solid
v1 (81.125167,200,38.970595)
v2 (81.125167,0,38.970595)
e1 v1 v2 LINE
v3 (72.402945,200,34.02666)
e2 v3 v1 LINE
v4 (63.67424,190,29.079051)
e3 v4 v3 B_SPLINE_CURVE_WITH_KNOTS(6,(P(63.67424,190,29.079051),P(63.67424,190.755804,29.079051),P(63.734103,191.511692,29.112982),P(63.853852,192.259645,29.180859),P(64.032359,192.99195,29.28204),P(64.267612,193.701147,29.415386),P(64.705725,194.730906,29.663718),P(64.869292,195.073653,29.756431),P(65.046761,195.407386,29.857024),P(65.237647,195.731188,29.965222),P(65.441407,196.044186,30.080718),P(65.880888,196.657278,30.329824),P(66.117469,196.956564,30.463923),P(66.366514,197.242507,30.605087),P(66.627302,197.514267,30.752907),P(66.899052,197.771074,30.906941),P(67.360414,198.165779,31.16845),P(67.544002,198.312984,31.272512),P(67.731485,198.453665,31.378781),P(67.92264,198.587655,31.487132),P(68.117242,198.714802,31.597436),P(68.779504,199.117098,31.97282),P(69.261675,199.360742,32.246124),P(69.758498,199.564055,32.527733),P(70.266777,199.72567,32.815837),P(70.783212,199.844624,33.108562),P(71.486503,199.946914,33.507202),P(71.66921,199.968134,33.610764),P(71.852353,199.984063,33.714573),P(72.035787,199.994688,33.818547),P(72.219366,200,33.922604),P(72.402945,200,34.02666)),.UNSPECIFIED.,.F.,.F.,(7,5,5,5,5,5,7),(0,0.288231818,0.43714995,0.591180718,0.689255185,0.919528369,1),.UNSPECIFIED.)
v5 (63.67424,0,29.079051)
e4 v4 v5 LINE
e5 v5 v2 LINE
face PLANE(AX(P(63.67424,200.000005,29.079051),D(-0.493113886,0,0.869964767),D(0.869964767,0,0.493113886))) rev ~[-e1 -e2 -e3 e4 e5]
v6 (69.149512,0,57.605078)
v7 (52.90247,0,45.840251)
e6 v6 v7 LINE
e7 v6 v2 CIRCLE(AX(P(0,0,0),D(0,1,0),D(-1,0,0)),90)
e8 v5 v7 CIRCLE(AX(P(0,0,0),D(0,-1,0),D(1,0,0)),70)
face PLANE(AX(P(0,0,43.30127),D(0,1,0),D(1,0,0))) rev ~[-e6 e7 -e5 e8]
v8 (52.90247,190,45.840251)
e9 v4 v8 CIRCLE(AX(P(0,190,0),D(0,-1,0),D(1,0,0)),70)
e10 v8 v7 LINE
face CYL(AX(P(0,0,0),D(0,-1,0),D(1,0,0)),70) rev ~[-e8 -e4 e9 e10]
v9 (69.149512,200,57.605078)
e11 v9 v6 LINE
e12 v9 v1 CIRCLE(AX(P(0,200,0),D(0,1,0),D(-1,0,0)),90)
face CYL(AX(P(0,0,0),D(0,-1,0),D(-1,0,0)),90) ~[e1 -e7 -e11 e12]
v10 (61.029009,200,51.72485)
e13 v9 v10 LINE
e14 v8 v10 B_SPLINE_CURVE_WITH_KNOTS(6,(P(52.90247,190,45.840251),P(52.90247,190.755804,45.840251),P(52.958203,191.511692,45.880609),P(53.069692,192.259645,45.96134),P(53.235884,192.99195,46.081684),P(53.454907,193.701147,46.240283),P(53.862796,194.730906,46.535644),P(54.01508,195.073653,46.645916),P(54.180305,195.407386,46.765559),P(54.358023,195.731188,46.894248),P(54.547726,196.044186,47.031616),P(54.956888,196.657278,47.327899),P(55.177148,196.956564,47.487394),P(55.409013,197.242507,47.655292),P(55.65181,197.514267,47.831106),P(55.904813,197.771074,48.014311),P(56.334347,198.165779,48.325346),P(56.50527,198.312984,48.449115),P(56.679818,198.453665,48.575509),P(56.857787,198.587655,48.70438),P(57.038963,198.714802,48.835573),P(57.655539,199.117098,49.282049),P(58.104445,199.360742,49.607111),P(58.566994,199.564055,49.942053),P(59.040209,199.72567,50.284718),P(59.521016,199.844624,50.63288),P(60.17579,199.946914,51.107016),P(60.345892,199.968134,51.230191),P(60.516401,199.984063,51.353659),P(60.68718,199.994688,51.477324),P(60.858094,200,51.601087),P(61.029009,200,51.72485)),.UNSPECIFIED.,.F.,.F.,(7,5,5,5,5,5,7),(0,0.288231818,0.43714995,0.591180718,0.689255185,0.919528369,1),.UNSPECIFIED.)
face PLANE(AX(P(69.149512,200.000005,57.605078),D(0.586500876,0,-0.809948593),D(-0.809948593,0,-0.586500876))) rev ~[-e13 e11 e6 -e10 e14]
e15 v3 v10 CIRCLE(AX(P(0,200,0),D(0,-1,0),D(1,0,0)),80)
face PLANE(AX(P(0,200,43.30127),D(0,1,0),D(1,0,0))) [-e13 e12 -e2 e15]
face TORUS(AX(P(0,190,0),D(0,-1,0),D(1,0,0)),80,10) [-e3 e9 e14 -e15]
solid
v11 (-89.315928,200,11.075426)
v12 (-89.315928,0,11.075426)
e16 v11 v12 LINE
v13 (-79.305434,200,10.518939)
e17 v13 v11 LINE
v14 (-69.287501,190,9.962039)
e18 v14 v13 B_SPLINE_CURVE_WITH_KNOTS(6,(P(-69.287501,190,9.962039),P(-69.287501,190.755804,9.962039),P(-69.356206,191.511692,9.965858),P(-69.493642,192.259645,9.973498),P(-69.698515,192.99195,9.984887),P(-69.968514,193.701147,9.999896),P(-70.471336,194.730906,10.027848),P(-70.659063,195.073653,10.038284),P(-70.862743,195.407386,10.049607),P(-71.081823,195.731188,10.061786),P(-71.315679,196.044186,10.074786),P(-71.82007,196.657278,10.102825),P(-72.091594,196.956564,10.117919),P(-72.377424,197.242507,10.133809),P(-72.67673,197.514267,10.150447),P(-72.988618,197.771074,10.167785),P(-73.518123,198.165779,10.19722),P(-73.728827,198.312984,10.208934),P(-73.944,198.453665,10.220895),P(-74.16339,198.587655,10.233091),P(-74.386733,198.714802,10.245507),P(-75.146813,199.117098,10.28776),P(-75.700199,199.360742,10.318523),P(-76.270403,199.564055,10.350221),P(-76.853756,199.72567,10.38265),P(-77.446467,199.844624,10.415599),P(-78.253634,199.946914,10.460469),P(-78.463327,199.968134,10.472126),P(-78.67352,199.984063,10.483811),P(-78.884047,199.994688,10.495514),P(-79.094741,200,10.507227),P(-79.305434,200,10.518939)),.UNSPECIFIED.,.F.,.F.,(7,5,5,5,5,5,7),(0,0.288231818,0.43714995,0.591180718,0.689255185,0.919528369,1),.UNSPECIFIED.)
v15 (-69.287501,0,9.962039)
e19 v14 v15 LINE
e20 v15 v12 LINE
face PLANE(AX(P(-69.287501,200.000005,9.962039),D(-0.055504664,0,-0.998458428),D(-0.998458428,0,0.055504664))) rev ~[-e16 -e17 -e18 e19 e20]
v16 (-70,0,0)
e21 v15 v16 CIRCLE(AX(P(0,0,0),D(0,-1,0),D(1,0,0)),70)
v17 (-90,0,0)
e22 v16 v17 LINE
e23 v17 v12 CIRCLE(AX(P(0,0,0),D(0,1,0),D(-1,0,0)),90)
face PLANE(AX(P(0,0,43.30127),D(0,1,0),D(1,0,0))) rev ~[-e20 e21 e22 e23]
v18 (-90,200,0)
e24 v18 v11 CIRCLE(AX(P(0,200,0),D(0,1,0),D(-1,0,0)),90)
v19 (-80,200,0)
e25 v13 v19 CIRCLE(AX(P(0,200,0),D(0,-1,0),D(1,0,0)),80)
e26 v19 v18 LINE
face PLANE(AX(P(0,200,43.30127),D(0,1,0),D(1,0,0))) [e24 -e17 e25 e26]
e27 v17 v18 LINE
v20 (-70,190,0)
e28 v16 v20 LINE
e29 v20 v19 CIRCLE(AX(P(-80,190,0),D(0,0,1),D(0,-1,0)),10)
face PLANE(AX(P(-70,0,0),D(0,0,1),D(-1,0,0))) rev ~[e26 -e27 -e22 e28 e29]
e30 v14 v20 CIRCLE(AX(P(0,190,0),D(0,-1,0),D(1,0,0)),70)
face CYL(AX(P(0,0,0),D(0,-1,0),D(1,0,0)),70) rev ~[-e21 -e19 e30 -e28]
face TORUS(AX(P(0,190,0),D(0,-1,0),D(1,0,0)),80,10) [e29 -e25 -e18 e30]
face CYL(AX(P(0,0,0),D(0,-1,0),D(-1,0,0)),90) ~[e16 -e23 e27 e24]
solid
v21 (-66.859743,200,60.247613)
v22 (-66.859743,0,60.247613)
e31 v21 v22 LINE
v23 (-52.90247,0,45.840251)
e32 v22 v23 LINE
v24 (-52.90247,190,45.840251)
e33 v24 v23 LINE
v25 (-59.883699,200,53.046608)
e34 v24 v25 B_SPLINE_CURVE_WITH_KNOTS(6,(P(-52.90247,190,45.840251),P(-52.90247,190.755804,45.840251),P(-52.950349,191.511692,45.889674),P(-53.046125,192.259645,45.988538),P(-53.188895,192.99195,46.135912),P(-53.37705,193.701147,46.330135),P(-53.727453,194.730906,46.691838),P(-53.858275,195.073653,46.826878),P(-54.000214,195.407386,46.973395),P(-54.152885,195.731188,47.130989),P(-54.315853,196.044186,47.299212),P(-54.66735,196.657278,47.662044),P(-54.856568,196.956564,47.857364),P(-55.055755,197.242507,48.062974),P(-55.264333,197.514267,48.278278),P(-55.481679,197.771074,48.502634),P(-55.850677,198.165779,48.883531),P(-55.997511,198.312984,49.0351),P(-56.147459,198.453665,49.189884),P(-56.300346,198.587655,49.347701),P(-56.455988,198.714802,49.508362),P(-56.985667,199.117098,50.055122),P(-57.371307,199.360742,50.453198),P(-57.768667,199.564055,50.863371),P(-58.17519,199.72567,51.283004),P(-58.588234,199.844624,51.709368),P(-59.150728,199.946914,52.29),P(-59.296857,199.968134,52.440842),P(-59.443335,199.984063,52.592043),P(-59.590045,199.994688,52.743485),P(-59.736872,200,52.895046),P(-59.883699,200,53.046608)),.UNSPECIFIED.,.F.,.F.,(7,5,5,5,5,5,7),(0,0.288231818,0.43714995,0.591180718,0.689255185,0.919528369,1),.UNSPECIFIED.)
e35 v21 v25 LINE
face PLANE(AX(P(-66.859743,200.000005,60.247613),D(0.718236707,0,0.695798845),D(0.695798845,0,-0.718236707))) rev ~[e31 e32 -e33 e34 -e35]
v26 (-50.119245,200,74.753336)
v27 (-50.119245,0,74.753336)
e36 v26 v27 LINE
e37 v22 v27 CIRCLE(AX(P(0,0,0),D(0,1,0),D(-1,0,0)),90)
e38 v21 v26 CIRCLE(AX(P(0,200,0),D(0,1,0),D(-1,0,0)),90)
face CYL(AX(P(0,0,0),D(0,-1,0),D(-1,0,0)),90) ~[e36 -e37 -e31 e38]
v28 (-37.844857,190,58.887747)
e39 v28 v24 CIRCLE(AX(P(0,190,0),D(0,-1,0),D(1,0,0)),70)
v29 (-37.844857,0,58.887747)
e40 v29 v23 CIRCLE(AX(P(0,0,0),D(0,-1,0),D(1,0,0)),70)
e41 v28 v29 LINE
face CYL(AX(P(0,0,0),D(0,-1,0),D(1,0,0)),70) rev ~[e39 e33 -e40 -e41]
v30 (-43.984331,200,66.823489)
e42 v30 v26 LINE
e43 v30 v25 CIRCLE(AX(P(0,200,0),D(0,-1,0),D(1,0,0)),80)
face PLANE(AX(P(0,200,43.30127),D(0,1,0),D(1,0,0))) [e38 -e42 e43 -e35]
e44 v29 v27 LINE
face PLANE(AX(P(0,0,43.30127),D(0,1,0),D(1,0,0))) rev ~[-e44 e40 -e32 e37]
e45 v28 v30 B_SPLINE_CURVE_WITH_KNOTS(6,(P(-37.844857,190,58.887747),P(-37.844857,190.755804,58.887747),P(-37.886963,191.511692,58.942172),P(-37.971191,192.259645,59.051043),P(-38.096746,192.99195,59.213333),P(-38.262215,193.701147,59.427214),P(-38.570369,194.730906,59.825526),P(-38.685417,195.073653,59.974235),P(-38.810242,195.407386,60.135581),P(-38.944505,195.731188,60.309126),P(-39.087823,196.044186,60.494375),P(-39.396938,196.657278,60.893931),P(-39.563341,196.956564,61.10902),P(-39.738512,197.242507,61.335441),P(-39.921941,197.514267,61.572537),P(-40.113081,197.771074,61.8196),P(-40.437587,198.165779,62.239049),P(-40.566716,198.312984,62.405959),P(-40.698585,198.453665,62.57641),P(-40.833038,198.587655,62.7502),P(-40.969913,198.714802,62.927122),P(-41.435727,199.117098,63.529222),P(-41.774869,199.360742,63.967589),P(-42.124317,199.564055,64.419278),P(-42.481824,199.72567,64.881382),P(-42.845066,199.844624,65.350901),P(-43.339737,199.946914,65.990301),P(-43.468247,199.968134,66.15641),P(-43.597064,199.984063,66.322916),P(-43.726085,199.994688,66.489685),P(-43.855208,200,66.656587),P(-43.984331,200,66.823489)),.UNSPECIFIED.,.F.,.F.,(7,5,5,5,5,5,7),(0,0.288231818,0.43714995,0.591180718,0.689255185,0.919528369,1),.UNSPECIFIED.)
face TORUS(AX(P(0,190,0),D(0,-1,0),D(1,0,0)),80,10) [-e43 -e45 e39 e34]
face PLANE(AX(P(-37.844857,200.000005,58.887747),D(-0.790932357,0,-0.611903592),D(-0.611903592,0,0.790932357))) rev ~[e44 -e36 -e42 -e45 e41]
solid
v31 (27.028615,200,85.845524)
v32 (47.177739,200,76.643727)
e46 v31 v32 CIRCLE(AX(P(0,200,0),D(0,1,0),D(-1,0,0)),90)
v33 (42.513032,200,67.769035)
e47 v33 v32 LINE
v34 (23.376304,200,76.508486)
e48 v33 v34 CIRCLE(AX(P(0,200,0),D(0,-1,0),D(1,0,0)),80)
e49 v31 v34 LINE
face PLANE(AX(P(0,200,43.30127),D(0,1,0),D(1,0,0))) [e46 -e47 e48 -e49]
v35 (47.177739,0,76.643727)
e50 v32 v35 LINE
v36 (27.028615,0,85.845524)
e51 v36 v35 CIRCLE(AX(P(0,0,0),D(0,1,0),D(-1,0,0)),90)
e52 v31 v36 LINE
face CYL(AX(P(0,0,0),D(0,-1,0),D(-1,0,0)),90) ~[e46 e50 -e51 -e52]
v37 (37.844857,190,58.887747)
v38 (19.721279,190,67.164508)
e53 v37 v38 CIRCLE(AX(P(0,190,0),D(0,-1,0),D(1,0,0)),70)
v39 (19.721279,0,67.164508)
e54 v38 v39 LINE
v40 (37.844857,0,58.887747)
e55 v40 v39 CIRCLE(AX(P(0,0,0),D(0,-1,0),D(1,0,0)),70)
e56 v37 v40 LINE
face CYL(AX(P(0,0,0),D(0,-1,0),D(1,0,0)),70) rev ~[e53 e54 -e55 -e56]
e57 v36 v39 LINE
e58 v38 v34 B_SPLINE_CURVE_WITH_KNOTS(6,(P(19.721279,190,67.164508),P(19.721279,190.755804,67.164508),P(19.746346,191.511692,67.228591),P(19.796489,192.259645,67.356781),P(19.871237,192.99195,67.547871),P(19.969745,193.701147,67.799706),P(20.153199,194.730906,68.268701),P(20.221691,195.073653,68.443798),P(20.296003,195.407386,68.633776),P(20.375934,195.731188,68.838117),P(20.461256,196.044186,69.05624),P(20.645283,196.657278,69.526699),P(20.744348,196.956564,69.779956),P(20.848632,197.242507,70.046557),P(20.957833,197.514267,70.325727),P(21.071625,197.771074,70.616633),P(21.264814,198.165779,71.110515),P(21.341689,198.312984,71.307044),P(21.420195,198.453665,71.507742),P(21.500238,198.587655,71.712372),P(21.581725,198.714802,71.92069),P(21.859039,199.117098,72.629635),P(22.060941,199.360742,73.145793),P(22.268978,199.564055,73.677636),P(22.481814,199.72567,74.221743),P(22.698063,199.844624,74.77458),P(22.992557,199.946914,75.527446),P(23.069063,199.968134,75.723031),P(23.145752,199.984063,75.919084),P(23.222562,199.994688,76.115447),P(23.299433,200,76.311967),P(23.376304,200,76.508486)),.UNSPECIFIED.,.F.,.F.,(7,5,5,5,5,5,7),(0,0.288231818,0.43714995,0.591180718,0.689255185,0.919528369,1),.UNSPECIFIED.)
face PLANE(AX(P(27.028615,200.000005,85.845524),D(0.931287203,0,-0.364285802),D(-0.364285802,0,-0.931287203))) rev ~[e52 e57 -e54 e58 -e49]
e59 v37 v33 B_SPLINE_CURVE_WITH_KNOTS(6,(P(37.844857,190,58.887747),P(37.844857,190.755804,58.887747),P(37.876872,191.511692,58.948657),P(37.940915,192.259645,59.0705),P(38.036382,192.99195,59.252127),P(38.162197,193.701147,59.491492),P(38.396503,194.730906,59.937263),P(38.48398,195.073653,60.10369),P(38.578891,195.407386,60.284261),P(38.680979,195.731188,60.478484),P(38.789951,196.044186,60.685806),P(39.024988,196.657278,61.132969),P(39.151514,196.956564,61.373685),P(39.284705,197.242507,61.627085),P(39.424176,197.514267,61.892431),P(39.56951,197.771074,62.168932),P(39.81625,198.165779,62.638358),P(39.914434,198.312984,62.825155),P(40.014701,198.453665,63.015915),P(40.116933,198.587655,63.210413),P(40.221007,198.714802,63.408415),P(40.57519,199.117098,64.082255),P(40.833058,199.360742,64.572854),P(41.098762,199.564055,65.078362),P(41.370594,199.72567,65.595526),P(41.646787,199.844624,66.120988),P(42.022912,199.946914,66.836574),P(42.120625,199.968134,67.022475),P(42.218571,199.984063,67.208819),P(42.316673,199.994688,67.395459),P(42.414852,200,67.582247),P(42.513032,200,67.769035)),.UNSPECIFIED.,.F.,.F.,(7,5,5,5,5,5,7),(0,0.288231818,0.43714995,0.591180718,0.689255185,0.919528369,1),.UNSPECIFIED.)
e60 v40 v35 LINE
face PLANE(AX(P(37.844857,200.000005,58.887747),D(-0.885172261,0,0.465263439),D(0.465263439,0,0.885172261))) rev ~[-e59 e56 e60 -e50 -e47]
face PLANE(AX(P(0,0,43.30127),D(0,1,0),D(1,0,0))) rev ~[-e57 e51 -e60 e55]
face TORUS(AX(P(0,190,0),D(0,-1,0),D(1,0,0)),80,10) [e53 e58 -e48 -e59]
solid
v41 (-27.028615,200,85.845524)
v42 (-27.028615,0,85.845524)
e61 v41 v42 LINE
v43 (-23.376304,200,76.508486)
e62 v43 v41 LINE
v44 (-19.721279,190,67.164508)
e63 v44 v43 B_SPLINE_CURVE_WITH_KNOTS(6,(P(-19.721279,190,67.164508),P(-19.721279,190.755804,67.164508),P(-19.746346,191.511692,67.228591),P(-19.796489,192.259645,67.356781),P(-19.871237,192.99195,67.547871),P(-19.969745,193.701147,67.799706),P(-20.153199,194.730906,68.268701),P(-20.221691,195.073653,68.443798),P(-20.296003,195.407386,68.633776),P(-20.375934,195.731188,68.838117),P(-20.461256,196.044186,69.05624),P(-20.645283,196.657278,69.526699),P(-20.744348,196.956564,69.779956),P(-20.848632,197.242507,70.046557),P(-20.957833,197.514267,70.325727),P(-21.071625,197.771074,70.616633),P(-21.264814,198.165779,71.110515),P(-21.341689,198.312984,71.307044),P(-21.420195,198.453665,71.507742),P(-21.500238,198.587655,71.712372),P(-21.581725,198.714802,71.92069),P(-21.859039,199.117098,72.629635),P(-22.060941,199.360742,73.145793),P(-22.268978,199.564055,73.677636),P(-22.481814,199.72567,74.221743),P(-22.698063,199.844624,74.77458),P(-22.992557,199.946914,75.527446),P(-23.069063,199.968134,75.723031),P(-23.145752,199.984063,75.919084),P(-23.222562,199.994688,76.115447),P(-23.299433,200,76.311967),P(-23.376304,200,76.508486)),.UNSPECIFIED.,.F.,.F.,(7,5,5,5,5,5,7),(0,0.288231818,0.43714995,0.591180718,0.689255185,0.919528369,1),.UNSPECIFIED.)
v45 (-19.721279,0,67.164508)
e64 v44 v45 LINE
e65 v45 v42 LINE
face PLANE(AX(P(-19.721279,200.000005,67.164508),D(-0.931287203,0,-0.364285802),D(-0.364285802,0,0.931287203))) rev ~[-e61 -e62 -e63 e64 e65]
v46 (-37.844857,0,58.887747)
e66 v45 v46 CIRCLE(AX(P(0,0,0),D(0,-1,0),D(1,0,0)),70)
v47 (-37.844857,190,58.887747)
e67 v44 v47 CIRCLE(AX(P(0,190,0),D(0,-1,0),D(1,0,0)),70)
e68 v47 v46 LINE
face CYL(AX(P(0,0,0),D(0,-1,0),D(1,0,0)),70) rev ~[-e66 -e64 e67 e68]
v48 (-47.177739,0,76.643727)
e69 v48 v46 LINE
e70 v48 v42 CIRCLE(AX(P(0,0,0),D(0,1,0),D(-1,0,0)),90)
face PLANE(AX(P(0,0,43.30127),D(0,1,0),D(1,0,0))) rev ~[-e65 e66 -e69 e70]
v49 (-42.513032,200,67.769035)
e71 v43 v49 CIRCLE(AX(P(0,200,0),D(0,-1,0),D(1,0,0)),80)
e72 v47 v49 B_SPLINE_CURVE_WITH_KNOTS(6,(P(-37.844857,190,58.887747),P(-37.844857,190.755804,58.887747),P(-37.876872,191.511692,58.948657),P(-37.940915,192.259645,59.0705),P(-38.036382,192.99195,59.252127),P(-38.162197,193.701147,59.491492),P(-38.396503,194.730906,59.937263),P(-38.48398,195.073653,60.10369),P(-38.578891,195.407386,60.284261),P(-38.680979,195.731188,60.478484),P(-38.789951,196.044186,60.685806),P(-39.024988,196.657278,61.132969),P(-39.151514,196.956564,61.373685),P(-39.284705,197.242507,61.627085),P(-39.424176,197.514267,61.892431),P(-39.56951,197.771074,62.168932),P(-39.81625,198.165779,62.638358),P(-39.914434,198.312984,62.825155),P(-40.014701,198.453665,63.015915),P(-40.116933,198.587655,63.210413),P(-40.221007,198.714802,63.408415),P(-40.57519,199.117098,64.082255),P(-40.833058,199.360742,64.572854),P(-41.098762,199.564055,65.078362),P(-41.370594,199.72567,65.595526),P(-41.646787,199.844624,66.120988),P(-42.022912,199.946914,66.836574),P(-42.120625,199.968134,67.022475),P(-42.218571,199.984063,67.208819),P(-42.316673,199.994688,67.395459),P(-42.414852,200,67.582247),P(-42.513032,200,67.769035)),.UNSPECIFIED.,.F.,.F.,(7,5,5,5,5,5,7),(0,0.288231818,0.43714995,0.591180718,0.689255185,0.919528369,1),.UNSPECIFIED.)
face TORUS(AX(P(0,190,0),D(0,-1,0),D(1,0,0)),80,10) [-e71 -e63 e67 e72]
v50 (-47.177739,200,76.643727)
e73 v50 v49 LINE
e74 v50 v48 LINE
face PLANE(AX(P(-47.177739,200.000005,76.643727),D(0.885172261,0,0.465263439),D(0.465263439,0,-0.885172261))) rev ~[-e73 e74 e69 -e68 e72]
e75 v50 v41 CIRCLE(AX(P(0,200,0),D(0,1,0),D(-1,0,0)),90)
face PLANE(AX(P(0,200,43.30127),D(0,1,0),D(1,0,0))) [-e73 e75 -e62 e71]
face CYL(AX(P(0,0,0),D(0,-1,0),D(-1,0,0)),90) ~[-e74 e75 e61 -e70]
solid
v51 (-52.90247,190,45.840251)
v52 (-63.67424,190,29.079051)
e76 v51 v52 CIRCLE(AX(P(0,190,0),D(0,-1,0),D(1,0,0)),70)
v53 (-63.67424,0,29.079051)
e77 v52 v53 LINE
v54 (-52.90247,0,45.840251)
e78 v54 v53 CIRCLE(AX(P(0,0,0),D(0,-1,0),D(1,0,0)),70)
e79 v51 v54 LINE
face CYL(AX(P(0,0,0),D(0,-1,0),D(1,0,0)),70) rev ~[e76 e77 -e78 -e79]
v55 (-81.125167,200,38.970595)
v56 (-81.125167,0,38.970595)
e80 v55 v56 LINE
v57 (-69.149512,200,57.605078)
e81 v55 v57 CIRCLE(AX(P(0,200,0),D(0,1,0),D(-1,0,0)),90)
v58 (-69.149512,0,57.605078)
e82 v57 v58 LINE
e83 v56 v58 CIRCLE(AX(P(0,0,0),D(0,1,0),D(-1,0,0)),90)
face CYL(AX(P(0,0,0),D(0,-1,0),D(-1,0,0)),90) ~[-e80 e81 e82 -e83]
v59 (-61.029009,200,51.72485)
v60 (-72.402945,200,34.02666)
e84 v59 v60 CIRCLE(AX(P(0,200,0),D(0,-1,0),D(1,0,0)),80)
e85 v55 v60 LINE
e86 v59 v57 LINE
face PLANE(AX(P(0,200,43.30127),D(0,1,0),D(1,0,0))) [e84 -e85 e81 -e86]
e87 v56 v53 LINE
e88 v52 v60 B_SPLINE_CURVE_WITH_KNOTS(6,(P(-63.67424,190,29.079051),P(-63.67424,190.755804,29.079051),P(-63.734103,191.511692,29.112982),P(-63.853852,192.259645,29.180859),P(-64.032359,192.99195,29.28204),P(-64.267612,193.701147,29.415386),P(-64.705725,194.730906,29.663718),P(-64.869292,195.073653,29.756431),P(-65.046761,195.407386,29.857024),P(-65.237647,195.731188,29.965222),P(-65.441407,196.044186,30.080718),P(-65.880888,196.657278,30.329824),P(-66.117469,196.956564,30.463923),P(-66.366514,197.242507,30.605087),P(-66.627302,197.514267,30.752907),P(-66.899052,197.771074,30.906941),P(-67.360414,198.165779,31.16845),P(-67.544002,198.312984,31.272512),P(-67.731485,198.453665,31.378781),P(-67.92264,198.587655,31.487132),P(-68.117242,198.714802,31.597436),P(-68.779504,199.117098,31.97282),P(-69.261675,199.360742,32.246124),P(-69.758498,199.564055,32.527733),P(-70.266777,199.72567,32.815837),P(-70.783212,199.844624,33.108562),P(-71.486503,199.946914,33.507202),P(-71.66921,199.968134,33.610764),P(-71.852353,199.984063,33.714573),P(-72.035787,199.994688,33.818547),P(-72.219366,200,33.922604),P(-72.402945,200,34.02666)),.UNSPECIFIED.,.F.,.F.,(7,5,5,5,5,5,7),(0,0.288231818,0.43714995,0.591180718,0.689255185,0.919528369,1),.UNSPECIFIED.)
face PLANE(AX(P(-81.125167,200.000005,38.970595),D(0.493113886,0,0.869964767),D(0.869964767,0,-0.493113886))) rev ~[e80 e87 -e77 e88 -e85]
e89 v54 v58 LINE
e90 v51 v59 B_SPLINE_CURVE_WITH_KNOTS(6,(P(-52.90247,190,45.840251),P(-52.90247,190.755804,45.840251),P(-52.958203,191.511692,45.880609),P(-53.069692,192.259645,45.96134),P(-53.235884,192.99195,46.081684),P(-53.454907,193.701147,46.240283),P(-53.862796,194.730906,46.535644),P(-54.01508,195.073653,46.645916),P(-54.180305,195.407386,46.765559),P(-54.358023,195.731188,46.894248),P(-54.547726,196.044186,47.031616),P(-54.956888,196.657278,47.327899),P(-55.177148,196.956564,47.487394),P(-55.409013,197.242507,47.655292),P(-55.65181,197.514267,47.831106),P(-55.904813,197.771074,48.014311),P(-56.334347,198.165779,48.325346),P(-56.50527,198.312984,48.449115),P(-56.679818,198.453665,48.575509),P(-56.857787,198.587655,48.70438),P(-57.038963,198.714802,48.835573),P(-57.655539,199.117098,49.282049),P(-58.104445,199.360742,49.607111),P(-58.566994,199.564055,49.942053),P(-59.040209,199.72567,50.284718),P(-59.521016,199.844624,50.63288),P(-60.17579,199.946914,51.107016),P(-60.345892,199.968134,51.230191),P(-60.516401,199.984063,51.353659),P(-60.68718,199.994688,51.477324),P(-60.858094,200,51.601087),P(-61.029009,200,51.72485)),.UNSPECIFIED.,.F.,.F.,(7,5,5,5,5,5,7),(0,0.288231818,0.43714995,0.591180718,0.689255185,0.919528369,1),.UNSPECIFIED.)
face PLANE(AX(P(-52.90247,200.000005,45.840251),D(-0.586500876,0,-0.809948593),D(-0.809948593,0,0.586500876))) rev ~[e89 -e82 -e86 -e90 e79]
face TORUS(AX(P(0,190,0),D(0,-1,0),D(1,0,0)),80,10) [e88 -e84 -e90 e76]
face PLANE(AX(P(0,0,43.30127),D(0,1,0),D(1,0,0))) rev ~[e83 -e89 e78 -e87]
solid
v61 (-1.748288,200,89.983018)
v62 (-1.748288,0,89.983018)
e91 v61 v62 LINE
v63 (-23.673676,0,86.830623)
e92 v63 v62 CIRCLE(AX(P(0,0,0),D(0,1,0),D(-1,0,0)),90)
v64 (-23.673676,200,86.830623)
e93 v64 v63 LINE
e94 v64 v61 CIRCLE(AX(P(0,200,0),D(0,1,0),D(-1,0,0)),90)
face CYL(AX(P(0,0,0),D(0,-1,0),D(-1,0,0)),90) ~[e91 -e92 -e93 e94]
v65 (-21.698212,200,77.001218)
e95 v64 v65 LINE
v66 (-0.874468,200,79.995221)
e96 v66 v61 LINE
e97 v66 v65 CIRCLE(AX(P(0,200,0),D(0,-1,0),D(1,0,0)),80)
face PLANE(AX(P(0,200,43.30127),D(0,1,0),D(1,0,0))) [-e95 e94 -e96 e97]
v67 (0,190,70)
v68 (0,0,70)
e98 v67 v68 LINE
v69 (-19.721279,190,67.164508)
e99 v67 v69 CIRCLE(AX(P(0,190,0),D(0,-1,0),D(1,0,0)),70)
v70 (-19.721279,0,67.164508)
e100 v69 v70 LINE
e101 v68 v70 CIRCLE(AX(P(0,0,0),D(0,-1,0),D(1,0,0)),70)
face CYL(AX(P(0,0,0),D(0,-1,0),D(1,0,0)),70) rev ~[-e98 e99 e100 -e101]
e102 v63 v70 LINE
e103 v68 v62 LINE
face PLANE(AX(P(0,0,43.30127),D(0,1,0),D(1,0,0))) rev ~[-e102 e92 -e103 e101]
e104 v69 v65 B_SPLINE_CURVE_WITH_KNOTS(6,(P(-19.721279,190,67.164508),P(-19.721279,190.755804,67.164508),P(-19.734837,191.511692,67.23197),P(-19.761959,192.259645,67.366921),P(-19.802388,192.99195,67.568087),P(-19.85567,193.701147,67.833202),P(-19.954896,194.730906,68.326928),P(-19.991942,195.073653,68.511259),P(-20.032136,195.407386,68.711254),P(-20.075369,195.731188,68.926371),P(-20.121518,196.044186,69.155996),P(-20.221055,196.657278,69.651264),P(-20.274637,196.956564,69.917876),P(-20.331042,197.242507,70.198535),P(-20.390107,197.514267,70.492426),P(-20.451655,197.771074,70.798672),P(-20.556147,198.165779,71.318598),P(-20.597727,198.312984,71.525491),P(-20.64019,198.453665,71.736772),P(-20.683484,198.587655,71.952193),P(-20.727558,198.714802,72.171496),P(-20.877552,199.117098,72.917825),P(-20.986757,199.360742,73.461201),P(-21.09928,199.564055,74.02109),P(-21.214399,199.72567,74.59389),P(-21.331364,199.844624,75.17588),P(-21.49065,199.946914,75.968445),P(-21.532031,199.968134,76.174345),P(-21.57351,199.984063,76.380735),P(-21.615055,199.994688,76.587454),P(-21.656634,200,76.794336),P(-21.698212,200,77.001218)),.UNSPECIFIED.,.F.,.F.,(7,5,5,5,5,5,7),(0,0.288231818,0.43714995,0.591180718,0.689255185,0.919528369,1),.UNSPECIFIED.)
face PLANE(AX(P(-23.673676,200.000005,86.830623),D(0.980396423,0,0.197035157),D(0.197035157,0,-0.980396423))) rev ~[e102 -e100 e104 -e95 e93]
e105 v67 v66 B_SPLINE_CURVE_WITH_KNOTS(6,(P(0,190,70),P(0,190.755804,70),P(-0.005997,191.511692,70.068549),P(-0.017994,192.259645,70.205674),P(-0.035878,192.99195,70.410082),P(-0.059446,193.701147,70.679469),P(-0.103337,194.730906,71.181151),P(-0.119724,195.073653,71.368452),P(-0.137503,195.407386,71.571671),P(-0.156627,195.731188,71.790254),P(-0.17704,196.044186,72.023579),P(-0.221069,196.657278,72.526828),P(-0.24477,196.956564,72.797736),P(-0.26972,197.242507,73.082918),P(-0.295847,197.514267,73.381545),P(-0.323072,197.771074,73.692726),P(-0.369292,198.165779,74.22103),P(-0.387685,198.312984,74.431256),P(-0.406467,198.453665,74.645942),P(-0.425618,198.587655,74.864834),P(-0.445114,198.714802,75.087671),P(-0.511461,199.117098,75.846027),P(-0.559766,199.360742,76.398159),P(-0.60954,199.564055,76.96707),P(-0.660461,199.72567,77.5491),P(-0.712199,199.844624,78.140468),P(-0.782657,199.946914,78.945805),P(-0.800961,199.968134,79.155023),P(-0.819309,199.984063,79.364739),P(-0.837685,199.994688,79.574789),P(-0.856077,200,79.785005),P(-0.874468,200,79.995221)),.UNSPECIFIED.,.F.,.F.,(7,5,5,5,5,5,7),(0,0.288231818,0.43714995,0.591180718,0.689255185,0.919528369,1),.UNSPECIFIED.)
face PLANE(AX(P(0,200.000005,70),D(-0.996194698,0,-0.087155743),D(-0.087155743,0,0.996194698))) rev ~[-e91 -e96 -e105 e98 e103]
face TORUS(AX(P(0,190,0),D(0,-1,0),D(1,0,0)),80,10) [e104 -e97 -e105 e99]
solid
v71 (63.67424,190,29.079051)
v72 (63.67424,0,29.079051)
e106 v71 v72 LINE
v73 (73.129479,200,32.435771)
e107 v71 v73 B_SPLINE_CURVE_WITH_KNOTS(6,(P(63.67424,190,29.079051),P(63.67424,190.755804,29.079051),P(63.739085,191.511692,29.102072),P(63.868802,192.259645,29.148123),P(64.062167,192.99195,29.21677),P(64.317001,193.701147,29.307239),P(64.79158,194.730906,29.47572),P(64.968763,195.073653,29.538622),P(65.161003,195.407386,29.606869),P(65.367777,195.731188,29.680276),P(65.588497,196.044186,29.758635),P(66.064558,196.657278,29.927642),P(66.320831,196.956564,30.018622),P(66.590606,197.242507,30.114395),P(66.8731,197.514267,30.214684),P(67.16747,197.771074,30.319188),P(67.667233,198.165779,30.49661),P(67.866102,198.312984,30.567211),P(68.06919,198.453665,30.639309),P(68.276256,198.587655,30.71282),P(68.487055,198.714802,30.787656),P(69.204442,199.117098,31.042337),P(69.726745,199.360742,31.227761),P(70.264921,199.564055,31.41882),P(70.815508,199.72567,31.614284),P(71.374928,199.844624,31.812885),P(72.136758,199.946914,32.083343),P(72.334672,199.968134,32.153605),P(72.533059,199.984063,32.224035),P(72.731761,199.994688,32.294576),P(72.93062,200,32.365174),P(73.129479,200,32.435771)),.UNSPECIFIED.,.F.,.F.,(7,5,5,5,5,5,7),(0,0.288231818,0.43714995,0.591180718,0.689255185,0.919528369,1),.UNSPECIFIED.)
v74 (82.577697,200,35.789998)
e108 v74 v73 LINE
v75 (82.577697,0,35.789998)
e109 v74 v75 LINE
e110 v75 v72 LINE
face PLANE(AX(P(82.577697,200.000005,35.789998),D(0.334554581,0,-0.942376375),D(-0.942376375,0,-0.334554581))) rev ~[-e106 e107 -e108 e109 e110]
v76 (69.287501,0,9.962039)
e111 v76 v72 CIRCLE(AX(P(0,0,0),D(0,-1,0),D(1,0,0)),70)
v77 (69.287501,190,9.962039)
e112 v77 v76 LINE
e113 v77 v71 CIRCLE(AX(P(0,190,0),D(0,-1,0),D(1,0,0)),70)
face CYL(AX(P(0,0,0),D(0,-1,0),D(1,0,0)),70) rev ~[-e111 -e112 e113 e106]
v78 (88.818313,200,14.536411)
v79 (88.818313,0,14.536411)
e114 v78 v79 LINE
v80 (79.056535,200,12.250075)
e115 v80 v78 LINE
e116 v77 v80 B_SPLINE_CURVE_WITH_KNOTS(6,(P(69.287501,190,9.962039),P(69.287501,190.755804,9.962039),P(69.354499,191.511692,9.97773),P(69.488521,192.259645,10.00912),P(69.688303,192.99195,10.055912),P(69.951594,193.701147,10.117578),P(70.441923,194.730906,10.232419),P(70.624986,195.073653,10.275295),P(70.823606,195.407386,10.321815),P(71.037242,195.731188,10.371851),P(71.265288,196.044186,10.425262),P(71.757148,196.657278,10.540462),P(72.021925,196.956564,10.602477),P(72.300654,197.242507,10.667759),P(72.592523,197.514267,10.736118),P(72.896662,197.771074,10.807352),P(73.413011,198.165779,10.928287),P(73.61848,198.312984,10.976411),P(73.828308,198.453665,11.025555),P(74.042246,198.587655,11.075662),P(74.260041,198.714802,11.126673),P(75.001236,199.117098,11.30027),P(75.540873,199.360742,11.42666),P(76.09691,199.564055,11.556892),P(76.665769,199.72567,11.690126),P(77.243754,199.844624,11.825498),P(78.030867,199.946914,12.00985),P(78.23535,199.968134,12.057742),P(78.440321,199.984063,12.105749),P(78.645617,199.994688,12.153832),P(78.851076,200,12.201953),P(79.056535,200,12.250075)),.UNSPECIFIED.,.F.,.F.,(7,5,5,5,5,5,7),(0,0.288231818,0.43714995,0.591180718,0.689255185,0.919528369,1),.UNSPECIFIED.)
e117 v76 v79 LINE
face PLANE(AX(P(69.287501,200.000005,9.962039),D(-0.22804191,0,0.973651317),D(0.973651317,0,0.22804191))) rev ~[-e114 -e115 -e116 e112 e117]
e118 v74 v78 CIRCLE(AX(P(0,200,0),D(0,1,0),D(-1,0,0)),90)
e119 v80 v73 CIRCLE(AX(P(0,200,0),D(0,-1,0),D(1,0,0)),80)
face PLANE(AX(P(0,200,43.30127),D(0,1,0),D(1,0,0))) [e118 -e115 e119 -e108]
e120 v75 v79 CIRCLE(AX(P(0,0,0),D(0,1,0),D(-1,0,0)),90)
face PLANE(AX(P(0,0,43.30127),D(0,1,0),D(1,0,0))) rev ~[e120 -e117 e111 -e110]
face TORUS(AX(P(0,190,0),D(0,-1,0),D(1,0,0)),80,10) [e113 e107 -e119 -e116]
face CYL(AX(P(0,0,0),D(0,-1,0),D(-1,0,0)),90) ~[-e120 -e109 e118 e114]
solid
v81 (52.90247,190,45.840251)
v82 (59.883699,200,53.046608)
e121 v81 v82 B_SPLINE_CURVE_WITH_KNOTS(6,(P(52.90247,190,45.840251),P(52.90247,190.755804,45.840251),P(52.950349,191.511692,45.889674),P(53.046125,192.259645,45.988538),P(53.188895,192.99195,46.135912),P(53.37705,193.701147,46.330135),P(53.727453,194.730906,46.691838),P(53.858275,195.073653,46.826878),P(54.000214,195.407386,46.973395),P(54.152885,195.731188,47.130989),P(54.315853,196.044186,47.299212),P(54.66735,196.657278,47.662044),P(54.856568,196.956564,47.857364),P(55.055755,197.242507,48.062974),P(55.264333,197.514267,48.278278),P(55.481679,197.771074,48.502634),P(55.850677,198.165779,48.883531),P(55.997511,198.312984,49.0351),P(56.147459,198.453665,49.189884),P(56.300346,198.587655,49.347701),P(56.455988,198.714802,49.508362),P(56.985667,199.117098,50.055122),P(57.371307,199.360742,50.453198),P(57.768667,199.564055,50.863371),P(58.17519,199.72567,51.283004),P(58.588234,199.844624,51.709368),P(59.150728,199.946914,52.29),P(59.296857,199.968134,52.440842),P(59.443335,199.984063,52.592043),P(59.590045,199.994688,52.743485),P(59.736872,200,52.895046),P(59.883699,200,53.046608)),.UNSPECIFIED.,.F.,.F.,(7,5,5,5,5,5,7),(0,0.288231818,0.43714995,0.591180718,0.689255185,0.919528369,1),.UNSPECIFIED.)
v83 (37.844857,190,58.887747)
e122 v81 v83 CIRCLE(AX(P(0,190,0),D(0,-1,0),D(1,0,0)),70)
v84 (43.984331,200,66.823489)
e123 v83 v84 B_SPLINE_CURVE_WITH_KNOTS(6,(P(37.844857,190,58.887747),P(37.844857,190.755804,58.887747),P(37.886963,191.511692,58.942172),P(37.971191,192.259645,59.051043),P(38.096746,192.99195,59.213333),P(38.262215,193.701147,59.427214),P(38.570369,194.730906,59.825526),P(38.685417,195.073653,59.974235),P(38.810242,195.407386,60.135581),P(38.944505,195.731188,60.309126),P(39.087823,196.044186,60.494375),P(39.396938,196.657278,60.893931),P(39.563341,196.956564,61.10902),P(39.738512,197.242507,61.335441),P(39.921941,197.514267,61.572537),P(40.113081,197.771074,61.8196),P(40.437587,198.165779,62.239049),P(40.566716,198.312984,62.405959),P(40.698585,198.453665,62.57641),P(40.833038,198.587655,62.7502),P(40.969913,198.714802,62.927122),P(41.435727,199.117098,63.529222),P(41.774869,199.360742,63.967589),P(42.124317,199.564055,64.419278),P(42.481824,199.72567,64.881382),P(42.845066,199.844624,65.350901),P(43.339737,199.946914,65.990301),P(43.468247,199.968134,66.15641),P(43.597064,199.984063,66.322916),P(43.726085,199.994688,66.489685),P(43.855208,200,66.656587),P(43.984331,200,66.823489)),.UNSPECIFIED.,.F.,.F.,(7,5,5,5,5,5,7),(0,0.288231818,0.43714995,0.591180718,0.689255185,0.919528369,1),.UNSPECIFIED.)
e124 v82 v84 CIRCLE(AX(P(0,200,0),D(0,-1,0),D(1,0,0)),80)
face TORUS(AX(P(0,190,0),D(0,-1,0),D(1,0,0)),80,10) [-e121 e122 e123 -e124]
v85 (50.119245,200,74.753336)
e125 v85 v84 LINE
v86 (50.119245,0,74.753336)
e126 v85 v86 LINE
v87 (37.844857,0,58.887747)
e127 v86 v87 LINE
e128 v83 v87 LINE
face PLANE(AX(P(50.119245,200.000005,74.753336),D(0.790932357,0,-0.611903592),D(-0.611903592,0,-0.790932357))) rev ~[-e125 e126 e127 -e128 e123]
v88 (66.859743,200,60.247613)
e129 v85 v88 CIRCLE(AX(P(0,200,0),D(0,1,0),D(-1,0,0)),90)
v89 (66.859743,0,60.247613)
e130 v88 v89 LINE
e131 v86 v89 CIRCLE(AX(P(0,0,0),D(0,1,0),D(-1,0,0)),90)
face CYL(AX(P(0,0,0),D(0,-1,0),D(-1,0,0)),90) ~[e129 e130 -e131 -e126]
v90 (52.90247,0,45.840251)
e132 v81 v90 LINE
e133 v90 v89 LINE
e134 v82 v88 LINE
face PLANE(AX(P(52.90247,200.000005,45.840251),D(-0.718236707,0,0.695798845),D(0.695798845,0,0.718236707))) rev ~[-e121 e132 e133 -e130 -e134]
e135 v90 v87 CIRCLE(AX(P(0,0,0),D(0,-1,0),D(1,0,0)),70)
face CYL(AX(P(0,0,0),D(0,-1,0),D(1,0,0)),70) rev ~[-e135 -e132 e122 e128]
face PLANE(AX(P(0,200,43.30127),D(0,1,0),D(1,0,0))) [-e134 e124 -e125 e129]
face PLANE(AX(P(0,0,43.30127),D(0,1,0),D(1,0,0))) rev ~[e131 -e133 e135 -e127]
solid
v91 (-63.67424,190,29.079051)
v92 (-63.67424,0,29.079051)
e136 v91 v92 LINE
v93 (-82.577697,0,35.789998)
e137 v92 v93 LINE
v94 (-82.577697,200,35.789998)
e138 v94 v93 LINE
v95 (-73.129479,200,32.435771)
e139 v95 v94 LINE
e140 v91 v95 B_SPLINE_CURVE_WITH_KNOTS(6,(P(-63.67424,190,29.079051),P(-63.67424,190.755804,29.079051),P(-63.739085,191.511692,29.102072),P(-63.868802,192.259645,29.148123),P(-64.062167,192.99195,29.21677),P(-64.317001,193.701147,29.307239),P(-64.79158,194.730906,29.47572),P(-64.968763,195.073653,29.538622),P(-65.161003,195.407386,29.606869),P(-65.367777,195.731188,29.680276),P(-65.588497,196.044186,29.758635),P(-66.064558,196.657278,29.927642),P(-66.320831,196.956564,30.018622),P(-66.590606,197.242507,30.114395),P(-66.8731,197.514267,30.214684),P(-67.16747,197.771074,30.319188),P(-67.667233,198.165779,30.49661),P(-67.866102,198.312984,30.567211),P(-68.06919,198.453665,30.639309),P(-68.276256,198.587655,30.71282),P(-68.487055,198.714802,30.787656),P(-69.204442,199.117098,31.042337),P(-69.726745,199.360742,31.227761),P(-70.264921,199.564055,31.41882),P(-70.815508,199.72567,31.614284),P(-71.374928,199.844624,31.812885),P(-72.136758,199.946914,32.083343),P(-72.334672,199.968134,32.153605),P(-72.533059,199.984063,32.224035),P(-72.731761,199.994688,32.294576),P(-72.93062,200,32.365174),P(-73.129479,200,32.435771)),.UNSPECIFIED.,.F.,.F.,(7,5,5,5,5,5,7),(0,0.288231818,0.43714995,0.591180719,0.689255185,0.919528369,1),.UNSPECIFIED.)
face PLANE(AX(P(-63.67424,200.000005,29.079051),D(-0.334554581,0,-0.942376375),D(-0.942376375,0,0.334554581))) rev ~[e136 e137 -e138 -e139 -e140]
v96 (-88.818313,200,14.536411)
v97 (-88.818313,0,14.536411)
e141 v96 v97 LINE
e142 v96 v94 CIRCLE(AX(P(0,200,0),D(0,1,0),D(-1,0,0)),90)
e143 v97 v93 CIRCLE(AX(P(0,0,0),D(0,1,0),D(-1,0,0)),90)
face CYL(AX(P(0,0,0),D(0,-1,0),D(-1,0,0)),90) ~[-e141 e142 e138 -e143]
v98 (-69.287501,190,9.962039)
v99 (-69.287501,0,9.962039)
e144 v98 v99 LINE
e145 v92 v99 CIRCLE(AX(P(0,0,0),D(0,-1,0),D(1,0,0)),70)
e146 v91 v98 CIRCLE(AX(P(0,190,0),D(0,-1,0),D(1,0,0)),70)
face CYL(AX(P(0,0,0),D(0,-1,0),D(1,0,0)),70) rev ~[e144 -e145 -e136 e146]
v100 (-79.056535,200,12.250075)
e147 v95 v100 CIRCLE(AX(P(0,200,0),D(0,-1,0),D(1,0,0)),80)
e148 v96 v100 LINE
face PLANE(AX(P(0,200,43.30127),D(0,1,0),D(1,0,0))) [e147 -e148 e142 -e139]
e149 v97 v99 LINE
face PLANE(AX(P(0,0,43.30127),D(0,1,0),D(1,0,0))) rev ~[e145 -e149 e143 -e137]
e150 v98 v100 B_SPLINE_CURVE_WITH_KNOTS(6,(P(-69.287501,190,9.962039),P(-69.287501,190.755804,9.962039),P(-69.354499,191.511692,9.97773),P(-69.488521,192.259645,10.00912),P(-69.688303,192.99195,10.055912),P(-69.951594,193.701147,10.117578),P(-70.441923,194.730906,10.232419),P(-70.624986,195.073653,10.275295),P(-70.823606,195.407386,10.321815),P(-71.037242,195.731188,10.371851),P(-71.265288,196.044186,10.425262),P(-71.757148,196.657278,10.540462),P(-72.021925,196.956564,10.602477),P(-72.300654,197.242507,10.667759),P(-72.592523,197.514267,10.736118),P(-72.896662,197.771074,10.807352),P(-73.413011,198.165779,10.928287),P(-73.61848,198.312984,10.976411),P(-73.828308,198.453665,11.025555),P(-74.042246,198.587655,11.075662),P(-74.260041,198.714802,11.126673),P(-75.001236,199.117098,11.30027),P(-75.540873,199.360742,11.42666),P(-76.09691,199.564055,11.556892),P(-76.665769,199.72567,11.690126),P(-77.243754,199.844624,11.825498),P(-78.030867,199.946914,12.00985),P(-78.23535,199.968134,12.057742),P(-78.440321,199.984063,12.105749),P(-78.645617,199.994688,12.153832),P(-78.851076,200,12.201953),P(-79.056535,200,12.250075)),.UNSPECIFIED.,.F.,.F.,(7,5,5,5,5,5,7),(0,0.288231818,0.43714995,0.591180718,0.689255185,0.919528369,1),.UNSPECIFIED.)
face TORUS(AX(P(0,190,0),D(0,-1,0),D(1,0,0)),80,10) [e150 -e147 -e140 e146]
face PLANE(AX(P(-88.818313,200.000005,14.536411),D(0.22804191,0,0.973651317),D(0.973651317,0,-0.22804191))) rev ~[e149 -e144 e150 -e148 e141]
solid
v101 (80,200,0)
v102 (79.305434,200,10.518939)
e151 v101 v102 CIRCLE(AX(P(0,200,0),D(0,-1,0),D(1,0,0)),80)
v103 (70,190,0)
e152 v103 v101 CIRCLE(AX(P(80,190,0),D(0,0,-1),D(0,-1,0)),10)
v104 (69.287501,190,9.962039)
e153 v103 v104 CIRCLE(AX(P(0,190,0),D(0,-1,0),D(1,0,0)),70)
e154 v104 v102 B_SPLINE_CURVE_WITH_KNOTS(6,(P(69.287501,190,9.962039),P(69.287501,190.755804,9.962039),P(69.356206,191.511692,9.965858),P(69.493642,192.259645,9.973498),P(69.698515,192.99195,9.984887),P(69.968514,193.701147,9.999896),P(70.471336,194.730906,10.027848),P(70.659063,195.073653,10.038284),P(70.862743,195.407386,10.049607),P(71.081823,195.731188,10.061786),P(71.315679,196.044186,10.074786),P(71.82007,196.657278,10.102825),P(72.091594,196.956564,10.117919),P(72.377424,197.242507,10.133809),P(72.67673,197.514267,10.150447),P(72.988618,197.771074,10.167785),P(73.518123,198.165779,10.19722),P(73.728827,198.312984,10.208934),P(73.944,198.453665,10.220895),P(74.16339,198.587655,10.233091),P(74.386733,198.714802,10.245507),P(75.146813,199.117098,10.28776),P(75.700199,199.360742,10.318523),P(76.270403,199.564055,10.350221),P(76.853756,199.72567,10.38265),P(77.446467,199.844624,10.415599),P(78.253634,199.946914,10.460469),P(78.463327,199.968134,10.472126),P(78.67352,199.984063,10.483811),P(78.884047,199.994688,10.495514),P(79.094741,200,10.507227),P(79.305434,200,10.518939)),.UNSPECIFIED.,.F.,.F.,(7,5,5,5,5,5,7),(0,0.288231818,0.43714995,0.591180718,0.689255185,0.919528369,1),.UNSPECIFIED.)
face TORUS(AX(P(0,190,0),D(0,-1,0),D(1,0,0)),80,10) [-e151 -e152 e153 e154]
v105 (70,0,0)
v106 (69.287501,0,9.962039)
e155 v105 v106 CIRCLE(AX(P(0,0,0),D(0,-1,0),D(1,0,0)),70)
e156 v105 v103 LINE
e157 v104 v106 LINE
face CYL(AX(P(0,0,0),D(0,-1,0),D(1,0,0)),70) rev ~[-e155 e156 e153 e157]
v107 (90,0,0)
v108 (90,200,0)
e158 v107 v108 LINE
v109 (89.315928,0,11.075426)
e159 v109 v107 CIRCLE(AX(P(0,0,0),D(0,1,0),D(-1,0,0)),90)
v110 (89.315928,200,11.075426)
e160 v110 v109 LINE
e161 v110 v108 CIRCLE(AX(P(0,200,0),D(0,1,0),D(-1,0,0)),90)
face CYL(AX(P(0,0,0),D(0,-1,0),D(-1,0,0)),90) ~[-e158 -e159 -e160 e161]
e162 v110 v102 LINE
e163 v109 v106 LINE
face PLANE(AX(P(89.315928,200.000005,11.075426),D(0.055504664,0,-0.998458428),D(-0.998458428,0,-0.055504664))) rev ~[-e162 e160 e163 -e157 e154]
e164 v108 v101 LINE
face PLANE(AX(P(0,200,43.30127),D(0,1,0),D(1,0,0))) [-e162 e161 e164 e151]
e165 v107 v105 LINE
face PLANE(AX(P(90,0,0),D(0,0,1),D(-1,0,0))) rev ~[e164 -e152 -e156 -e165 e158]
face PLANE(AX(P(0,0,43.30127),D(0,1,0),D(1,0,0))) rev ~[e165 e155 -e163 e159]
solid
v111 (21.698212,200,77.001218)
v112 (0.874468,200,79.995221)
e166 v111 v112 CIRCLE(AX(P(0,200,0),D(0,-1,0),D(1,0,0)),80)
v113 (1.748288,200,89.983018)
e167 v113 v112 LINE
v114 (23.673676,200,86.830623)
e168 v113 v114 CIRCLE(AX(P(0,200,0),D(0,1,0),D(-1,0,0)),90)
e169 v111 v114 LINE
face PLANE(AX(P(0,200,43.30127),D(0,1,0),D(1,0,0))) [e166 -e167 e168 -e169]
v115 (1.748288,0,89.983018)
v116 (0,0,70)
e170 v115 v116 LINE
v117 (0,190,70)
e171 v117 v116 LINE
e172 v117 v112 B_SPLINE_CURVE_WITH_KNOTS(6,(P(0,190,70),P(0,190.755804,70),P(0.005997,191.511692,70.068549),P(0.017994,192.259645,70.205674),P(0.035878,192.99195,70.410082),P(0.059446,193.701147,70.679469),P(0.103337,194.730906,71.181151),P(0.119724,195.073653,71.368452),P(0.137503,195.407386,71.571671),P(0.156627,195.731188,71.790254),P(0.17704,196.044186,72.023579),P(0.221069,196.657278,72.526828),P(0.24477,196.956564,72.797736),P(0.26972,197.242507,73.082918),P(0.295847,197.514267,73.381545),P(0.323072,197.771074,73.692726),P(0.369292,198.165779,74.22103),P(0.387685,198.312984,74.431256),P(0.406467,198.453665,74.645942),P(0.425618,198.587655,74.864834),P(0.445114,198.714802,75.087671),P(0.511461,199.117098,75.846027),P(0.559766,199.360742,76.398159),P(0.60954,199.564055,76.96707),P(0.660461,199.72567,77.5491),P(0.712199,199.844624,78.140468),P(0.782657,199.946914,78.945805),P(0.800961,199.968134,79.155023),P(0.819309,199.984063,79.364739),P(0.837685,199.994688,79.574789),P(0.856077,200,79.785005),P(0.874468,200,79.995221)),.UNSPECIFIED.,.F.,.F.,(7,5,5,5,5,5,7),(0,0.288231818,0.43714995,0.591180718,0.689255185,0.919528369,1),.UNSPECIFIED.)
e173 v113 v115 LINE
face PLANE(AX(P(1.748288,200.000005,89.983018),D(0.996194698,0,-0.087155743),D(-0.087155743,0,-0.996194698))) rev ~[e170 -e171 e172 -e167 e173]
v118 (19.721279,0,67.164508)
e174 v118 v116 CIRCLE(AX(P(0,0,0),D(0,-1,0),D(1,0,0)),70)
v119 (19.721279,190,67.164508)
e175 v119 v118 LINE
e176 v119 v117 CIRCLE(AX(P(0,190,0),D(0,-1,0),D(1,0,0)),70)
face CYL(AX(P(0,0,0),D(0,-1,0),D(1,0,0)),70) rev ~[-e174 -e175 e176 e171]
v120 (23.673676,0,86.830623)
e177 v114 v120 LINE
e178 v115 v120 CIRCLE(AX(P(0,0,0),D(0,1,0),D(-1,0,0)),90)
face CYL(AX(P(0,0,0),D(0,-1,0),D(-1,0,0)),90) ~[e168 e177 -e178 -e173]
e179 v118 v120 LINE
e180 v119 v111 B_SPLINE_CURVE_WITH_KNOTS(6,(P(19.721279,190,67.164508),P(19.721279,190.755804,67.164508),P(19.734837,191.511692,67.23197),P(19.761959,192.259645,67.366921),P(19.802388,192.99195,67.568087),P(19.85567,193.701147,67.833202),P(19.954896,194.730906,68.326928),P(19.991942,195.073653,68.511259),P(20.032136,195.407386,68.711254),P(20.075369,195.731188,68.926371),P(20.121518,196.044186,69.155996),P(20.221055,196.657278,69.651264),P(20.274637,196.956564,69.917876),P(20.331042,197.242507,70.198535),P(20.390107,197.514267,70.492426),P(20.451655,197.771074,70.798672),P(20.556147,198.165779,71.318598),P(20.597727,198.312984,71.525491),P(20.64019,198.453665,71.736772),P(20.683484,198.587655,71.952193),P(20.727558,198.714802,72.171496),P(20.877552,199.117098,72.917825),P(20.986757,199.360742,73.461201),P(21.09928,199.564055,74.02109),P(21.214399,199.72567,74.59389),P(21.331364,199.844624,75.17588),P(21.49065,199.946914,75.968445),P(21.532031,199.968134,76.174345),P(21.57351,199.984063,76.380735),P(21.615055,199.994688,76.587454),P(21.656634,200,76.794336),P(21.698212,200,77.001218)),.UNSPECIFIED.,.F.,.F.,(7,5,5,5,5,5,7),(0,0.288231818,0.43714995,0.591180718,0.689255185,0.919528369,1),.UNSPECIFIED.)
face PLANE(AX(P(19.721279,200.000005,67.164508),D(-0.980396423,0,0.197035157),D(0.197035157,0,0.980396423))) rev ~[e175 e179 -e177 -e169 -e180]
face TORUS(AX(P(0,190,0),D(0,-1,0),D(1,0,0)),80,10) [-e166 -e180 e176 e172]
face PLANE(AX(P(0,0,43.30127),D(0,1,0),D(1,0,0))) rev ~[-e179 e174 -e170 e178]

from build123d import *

# Parameters (mm, degrees)
BOSS_EXTRUDE1_DEPTH = 200
FILLET1_R           = 10
CUT_EXTRUDE1_START  = -200.000005
CUT_EXTRUDE1_DEPTH  = 200.000005


with BuildPart() as part:
    # Sketch1 → Boss-Extrude1 (new body)
    with BuildSketch(Plane(origin=(0, 0, 0), x_dir=(1, 0, 0), z_dir=(0, 1, 0))):
        with BuildLine():
            Line((90, 0), (70, 0))
            ThreePointArc((70, 0), (0, -70), (-70, 0))
            Line((-70, 0), (-90, 0))
            ThreePointArc((-90, 0), (0, -90), (90, 0))
        make_face()
    extrude(amount=BOSS_EXTRUDE1_DEPTH)

    # Fillet1
    fillet1_edges = [part.edges().sort_by_distance(p)[0] for p in [
        (0, 200, 70),
    ]]
    fillet(fillet1_edges, radius=FILLET1_R)

    # Sketch2 → Cut-Extrude1 (cut)
    with BuildSketch(Plane.XZ.offset(CUT_EXTRUDE1_START)):
        with BuildLine():
            Line((0, 70), (-1.74828752, 89.983017791))
            ThreePointArc((-1.74828752, 89.983017791), (0, 90), (1.74828752, 89.983017791))
            Line((1.74828752, 89.983017791), (0, 70))
        make_face()
        with BuildLine():
            Line((19.721278979, 67.164508153), (23.673676083, 86.830622828))
            ThreePointArc((23.673676083, 86.830622828), (25.355930116, 86.354367625), (27.028615266, 85.845523802))
            Line((27.028615266, 85.845523802), (19.721278979, 67.164508153))
        make_face()
        with BuildLine():
            Line((37.844857222, 58.887747298), (47.177739243, 76.643727205))
            ThreePointArc((47.177739243, 76.643727205), (48.657673571, 75.712817955), (50.119245348, 74.753336018))
            Line((50.119245348, 74.753336018), (37.844857222, 58.887747298))
        make_face()
        with BuildLine():
            Line((52.902470205, 45.840251376), (66.859742546, 60.247612622))
            ThreePointArc((66.859742546, 60.247612622), (68.017461692, 58.937466055), (69.149512243, 57.605077524))
            Line((69.149512243, 57.605077524), (52.902470205, 45.840251376))
        make_face()
        with BuildLine():
            Line((63.674239675, 29.07905091), (81.125167138, 38.970594771))
            ThreePointArc((81.125167138, 38.970594771), (81.866879582, 37.38735117), (82.577696904, 35.789998241))
            Line((82.577696904, 35.789998241), (63.674239675, 29.07905091))
        make_face()
        with BuildLine():
            Line((69.287500932, 9.962038679), (88.818313159, 14.536411098))
            ThreePointArc((88.818313159, 14.536411098), (89.083929769, 12.808335445), (89.31592767, 11.075426151))
            Line((89.31592767, 11.075426151), (69.287500932, 9.962038679))
        make_face()
        with BuildLine():
            Line((69.287500932, -9.962038679), (89.31592767, -11.075426151))
            ThreePointArc((89.31592767, -11.075426151), (89.083929769, -12.808335445), (88.818313159, -14.536411098))
            Line((88.818313159, -14.536411098), (69.287500932, -9.962038679))
        make_face()
        with BuildLine():
            Line((63.674239675, -29.07905091), (82.577696904, -35.789998241))
            ThreePointArc((82.577696904, -35.789998241), (81.866879582, -37.38735117), (81.125167138, -38.970594771))
            Line((81.125167138, -38.970594771), (63.674239675, -29.07905091))
        make_face()
        with BuildLine():
            Line((52.902470205, -45.840251376), (69.149512243, -57.605077524))
            ThreePointArc((69.149512243, -57.605077524), (68.017461692, -58.937466055), (66.859742546, -60.247612622))
            Line((66.859742546, -60.247612622), (52.902470205, -45.840251376))
        make_face()
        with BuildLine():
            Line((37.844857222, -58.887747298), (50.119245348, -74.753336018))
            ThreePointArc((50.119245348, -74.753336018), (48.657673571, -75.712817955), (47.177739243, -76.643727205))
            Line((47.177739243, -76.643727205), (37.844857222, -58.887747298))
        make_face()
        with BuildLine():
            Line((19.721278979, -67.164508153), (27.028615266, -85.845523802))
            ThreePointArc((27.028615266, -85.845523802), (25.355930116, -86.354367625), (23.673676083, -86.830622828))
            Line((23.673676083, -86.830622828), (19.721278979, -67.164508153))
        make_face()
        with BuildLine():
            Line((0, -70), (1.74828752, -89.983017791))
            ThreePointArc((1.74828752, -89.983017791), (0, -90), (-1.74828752, -89.983017791))
            Line((-1.74828752, -89.983017791), (0, -70))
        make_face()
        with BuildLine():
            Line((-19.721278979, -67.164508153), (-23.673676083, -86.830622828))
            ThreePointArc((-23.673676083, -86.830622828), (-25.355930116, -86.354367625), (-27.028615266, -85.845523802))
            Line((-27.028615266, -85.845523802), (-19.721278979, -67.164508153))
        make_face()
        with BuildLine():
            Line((-37.844857222, -58.887747298), (-47.177739243, -76.643727205))
            ThreePointArc((-47.177739243, -76.643727205), (-48.657673571, -75.712817955), (-50.119245348, -74.753336018))
            Line((-50.119245348, -74.753336018), (-37.844857222, -58.887747298))
        make_face()
        with BuildLine():
            Line((-52.902470205, -45.840251376), (-66.859742546, -60.247612622))
            ThreePointArc((-66.859742546, -60.247612622), (-68.017461692, -58.937466055), (-69.149512243, -57.605077524))
            Line((-69.149512243, -57.605077524), (-52.902470205, -45.840251376))
        make_face()
        with BuildLine():
            Line((-63.674239675, -29.07905091), (-81.125167138, -38.970594771))
            ThreePointArc((-81.125167138, -38.970594771), (-81.866879582, -37.38735117), (-82.577696904, -35.789998241))
            Line((-82.577696904, -35.789998241), (-63.674239675, -29.07905091))
        make_face()
        with BuildLine():
            Line((-69.287500932, -9.962038679), (-88.818313159, -14.536411098))
            ThreePointArc((-88.818313159, -14.536411098), (-89.083929769, -12.808335445), (-89.31592767, -11.075426151))
            Line((-89.31592767, -11.075426151), (-69.287500932, -9.962038679))
        make_face()
        with BuildLine():
            Line((-69.287500932, 9.962038679), (-89.31592767, 11.075426151))
            ThreePointArc((-89.31592767, 11.075426151), (-89.083929769, 12.808335445), (-88.818313159, 14.536411098))
            Line((-88.818313159, 14.536411098), (-69.287500932, 9.962038679))
        make_face()
        with BuildLine():
            Line((-63.674239675, 29.07905091), (-82.577696904, 35.789998241))
            ThreePointArc((-82.577696904, 35.789998241), (-81.866879582, 37.38735117), (-81.125167138, 38.970594771))
            Line((-81.125167138, 38.970594771), (-63.674239675, 29.07905091))
        make_face()
        with BuildLine():
            Line((-52.902470205, 45.840251376), (-69.149512243, 57.605077524))
            ThreePointArc((-69.149512243, 57.605077524), (-68.017461692, 58.937466055), (-66.859742546, 60.247612622))
            Line((-66.859742546, 60.247612622), (-52.902470205, 45.840251376))
        make_face()
        with BuildLine():
            Line((-37.844857222, 58.887747298), (-50.119245348, 74.753336018))
            ThreePointArc((-50.119245348, 74.753336018), (-48.657673571, 75.712817955), (-47.177739243, 76.643727205))
            Line((-47.177739243, 76.643727205), (-37.844857222, 58.887747298))
        make_face()
        with BuildLine():
            Line((-19.721278979, 67.164508153), (-27.028615266, 85.845523802))
            ThreePointArc((-27.028615266, 85.845523802), (-25.355930116, 86.354367625), (-23.673676083, 86.830622828))
            Line((-23.673676083, 86.830622828), (-19.721278979, 67.164508153))
        make_face()
    extrude(amount=CUT_EXTRUDE1_DEPTH, mode=Mode.SUBTRACT)


with BuildPart() as cut_extrude1_piece_1:
    # of the separate pieces the step leaves, piece 1, a body of its own (cut_extrude1_pieces)
    add(part.part.solids().sort_by_distance((-43.984331112, 200, 66.82348851))[0])


with BuildPart() as cut_extrude1_piece_2:
    # of the separate pieces the step leaves, piece 2, a body of its own (cut_extrude1_pieces)
    add(part.part.solids().sort_by_distance((-73.129479391, 200, 32.435771057))[0])


with BuildPart() as cut_extrude1_piece_3:
    # of the separate pieces the step leaves, piece 3, a body of its own (cut_extrude1_pieces)
    add(part.part.solids().sort_by_distance((42.513031709, 200, 67.769035222))[0])


with BuildPart() as cut_extrude1_piece_4:
    # of the separate pieces the step leaves, piece 4, a body of its own (cut_extrude1_pieces)
    add(part.part.solids().sort_by_distance((-23.376304376, 200, 76.508485763))[0])


with BuildPart() as cut_extrude1_piece_5:
    # of the separate pieces the step leaves, piece 5, a body of its own (cut_extrude1_pieces)
    add(part.part.solids().sort_by_distance((21.698211644, 200, 77.001218247))[0])


with BuildPart() as cut_extrude1_piece_6:
    # of the separate pieces the step leaves, piece 6, a body of its own (cut_extrude1_pieces)
    add(part.part.solids().sort_by_distance((-61.029008926, 200, 51.724849632))[0])


with BuildPart() as cut_extrude1_piece_7:
    # of the separate pieces the step leaves, piece 7, a body of its own (cut_extrude1_pieces)
    add(part.part.solids().sort_by_distance((72.402944717, 200, 34.026660082))[0])


with BuildPart() as cut_extrude1_piece_8:
    # of the separate pieces the step leaves, piece 8, a body of its own (cut_extrude1_pieces)
    add(part.part.solids().sort_by_distance((79.056534671, 200, 12.250074526))[0])


with BuildPart() as cut_extrude1_piece_9:
    # of the separate pieces the step leaves, piece 9, a body of its own (cut_extrude1_pieces)
    add(part.part.solids().sort_by_distance((59.883698779, 200, 53.046608002))[0])


with BuildPart() as cut_extrude1_piece_10:
    # of the separate pieces the step leaves, piece 10, a body of its own (cut_extrude1_pieces)
    add(part.part.solids().sort_by_distance((-0.874468484, 200, 79.995220513))[0])


with BuildPart() as cut_extrude1_piece_11:
    # of the separate pieces the step leaves, piece 11, a body of its own (cut_extrude1_pieces)
    add(part.part.solids().sort_by_distance((70, 190, 0))[0])


with BuildPart() as cut_extrude1_piece_12:
    # of the separate pieces the step leaves, piece 12, a body of its own (cut_extrude1_pieces)
    add(part.part.solids().sort_by_distance((-70, 0, 0))[0])


solid = Compound([cut_extrude1_piece_1.part, cut_extrude1_piece_2.part, cut_extrude1_piece_3.part, cut_extrude1_piece_4.part, cut_extrude1_piece_5.part, cut_extrude1_piece_6.part, cut_extrude1_piece_7.part, cut_extrude1_piece_8.part, cut_extrude1_piece_9.part, cut_extrude1_piece_10.part, cut_extrude1_piece_11.part, cut_extrude1_piece_12.part])
